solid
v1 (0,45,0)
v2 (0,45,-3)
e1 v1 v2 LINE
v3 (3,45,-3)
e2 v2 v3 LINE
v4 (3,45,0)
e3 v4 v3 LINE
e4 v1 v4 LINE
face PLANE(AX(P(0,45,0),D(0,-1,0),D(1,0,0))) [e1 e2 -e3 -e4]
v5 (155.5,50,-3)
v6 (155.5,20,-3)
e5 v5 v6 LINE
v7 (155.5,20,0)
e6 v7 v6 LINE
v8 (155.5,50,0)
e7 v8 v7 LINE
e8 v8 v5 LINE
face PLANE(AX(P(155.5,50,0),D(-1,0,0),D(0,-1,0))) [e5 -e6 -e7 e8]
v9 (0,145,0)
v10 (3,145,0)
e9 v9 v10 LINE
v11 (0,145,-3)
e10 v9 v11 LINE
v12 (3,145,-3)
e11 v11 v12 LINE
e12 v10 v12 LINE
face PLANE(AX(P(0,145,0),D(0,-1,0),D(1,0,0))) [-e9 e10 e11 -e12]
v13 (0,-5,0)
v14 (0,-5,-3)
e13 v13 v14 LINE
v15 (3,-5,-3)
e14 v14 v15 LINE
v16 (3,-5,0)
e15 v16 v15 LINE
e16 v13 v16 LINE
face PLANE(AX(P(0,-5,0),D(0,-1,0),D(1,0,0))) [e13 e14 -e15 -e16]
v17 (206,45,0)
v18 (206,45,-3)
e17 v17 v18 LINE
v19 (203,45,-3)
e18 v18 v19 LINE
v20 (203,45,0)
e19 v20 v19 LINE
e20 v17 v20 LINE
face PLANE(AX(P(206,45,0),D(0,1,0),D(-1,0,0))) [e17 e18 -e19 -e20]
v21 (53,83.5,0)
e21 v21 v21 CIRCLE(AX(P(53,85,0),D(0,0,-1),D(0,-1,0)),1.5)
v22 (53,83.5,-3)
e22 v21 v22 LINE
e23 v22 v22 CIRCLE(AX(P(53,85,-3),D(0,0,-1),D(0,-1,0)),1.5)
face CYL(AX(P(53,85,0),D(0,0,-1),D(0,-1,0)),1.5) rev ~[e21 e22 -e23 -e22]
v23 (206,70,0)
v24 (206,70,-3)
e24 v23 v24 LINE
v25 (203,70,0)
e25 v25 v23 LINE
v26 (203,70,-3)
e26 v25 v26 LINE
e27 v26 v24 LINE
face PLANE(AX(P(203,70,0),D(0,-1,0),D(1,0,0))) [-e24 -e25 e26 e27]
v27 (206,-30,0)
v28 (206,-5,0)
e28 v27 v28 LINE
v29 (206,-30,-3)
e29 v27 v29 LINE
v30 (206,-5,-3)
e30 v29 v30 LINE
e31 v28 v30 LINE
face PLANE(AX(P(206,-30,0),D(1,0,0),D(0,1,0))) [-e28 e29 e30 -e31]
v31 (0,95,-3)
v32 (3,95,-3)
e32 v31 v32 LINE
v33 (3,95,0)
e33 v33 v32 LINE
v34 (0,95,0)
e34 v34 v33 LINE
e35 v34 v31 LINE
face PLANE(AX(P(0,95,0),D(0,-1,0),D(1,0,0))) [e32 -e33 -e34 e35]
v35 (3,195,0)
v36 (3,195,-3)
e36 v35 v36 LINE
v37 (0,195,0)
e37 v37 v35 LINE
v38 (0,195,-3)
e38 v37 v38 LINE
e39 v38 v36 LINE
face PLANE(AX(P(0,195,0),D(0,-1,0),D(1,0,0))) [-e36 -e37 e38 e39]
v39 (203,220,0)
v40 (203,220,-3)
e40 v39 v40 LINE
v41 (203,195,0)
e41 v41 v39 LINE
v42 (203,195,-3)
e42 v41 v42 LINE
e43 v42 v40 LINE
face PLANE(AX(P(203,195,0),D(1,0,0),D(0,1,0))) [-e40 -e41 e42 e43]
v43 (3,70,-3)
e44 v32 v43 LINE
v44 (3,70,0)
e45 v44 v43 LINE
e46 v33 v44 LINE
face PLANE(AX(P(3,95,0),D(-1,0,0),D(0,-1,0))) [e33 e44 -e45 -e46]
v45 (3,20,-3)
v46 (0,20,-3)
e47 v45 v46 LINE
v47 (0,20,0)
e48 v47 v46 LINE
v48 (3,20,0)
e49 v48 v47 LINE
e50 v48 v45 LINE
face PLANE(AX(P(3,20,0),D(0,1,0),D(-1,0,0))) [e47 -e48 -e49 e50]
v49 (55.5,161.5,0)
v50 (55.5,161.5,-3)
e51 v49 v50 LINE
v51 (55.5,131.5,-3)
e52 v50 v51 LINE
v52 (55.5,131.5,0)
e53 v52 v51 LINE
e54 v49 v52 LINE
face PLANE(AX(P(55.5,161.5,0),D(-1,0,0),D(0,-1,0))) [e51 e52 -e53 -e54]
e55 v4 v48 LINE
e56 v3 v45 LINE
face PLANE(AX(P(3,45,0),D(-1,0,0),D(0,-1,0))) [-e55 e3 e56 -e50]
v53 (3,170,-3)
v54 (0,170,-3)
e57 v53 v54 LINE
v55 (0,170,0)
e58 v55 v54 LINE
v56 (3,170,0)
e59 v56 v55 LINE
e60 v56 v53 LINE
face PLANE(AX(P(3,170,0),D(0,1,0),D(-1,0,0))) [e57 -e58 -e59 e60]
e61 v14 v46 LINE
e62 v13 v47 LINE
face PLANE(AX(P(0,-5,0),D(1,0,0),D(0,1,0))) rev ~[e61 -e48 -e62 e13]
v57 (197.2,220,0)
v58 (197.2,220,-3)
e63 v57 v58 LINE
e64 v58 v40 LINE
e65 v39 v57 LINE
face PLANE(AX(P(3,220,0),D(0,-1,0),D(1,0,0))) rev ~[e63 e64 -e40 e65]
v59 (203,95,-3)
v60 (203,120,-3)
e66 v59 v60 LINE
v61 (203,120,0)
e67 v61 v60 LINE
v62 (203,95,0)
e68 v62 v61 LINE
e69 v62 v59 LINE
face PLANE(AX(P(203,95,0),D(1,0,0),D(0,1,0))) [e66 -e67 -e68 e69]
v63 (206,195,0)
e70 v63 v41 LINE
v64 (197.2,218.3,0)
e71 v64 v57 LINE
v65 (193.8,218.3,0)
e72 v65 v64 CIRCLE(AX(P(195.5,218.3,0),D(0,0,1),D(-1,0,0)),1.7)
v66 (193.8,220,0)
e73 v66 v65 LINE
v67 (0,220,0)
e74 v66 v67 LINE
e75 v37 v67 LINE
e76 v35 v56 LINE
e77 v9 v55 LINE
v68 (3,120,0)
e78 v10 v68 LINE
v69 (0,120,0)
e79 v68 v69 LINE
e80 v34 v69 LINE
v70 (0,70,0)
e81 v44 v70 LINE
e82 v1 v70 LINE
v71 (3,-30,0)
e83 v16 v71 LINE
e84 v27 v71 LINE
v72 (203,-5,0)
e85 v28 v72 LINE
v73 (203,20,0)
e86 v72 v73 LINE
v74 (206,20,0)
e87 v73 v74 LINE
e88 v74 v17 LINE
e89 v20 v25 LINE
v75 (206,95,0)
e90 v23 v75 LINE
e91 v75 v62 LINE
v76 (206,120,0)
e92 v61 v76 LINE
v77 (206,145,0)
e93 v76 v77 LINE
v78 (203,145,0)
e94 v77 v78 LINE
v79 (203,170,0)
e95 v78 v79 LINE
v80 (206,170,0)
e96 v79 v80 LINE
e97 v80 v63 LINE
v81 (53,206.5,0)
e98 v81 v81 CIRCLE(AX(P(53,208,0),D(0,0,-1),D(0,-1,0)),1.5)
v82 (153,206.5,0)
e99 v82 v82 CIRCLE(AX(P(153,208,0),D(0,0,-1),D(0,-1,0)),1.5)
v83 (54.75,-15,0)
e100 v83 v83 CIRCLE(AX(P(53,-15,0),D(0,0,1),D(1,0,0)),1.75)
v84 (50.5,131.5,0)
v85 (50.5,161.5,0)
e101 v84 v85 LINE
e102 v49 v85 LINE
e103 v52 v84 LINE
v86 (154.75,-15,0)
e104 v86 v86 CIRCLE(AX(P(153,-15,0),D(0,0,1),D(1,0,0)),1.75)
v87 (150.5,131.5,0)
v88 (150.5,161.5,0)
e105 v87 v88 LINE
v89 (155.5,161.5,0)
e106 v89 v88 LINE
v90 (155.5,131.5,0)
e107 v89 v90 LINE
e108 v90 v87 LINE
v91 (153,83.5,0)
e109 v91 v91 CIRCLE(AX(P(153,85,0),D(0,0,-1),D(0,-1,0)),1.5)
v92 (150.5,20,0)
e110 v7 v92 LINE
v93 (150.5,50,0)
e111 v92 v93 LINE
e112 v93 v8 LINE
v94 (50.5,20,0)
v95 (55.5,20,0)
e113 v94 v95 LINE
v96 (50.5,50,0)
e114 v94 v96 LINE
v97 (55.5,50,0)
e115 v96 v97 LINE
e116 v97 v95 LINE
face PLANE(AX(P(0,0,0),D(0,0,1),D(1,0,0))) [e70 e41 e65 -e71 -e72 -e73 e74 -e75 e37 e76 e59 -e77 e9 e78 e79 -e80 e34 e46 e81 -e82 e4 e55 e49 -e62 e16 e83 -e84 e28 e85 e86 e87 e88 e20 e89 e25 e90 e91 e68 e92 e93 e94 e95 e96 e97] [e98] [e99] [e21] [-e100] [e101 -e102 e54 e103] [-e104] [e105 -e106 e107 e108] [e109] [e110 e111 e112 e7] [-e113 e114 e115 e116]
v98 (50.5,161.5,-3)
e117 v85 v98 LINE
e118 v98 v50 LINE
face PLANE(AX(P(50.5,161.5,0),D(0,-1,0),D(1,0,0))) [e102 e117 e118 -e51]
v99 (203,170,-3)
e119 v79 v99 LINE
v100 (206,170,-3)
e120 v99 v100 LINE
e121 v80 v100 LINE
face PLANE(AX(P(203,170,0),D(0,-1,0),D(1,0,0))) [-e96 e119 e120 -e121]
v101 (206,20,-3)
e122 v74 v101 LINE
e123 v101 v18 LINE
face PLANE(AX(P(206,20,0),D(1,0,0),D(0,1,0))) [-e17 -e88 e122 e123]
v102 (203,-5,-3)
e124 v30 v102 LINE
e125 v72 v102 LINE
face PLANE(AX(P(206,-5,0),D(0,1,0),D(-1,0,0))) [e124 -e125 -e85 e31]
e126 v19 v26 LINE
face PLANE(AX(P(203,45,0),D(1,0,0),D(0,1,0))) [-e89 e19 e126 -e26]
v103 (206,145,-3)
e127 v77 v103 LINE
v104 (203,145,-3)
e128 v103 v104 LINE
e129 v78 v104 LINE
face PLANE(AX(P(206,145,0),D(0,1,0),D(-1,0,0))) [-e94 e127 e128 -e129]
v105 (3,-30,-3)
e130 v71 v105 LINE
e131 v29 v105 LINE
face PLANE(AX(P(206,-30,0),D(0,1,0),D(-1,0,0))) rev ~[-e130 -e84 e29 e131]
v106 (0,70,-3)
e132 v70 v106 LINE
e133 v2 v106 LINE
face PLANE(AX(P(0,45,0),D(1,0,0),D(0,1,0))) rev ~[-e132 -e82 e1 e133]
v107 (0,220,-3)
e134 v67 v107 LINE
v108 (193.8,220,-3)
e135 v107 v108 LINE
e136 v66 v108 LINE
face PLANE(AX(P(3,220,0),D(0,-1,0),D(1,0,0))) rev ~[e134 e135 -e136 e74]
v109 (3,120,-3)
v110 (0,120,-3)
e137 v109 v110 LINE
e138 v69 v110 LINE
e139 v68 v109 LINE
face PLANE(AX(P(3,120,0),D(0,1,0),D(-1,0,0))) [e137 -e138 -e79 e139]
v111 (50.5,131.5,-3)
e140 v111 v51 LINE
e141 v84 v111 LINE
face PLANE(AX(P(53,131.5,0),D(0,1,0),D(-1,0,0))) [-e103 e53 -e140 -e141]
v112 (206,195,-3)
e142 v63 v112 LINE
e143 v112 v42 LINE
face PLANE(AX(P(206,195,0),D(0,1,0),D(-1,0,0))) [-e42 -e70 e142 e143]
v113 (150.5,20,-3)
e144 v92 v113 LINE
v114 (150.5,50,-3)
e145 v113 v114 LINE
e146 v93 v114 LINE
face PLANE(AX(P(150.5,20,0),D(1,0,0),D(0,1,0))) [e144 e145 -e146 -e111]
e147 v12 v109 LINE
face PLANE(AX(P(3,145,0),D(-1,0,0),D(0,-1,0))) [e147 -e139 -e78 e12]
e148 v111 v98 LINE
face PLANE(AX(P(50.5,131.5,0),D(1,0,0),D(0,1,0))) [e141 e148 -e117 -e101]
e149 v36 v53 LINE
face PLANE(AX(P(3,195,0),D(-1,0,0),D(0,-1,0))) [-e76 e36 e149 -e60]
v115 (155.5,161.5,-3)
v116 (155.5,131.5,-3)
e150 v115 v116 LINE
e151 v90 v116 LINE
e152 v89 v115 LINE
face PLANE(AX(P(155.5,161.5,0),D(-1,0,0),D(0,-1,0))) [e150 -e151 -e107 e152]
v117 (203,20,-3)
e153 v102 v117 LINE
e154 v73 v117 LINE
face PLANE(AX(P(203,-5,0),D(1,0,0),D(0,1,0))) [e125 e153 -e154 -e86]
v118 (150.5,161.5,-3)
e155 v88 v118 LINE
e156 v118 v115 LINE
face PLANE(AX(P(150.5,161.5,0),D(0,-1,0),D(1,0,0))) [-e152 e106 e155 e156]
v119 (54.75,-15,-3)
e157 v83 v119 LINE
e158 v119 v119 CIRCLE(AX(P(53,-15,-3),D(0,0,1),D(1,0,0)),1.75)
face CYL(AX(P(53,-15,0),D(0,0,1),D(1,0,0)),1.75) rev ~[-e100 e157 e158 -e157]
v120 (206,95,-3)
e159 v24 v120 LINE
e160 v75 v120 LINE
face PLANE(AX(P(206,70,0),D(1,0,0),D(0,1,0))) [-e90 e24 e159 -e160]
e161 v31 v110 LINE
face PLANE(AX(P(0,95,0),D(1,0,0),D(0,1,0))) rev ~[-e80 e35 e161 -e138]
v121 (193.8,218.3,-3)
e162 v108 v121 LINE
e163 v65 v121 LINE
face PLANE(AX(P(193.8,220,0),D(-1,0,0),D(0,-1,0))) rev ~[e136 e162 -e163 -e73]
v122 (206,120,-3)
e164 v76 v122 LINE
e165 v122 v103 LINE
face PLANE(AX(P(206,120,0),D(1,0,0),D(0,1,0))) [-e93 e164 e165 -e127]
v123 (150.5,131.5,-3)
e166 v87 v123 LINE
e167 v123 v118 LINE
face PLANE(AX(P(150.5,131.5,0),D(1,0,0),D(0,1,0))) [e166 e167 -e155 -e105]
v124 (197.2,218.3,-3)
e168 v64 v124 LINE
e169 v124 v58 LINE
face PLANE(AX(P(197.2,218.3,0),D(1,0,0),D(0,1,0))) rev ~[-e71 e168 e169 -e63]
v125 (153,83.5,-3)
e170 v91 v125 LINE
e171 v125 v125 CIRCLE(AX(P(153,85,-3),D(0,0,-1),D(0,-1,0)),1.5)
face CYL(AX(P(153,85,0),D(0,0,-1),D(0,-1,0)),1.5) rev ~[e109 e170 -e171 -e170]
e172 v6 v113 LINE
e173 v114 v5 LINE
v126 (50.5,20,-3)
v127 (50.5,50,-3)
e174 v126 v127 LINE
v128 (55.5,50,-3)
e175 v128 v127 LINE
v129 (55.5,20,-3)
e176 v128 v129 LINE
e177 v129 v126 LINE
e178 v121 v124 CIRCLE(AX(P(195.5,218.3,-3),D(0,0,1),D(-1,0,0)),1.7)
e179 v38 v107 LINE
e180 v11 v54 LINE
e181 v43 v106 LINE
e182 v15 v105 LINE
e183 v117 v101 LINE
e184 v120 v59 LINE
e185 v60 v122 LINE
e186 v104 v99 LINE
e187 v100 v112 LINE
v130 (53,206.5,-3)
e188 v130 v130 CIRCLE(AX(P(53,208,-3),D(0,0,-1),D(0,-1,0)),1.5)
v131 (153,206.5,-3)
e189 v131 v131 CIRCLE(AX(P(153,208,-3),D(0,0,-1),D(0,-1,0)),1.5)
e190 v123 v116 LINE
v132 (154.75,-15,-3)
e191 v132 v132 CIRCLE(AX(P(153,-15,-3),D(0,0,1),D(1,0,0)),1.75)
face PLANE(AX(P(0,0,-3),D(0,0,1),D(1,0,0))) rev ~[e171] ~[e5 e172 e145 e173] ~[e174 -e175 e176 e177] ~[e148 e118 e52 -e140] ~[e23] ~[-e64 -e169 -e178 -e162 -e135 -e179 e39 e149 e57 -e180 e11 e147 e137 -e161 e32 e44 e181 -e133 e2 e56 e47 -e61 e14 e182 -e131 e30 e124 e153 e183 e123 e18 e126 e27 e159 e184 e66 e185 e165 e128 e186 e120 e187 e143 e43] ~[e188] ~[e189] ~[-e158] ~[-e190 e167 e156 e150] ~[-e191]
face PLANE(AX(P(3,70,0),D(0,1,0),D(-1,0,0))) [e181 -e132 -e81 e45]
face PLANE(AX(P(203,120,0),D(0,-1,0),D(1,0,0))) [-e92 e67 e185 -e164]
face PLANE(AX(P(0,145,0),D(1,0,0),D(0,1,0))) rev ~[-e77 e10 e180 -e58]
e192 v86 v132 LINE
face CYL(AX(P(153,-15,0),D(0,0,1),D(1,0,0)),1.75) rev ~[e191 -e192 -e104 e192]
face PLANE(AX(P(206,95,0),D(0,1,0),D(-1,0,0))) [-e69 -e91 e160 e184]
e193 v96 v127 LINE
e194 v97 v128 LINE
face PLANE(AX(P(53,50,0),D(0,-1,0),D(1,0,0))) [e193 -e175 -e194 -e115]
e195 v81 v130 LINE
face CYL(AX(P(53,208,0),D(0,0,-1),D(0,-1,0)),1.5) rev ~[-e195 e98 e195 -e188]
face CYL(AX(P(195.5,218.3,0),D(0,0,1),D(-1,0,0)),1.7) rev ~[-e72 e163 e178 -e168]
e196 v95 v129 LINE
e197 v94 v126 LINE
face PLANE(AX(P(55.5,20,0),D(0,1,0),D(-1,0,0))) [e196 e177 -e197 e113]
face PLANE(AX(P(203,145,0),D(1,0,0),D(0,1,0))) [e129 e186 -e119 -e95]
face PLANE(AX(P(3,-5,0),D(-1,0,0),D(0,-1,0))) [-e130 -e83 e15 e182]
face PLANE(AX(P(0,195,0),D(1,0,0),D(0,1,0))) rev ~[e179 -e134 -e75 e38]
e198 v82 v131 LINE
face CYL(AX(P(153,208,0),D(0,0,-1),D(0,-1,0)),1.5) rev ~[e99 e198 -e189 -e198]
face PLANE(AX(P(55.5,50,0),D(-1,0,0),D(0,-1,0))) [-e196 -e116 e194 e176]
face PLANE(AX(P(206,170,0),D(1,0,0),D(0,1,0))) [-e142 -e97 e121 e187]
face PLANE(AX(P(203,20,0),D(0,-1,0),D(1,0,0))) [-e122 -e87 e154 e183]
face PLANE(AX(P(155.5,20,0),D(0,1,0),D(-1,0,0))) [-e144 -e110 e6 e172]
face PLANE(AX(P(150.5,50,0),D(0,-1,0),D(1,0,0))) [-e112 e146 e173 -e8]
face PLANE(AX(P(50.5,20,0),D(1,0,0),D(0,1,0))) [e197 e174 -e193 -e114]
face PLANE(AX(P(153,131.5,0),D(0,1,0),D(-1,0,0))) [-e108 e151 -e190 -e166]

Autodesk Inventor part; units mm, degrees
ref_plane "YZ Plane" through (0, 0, 0) normal (1, 0, 0) x (0, 1, 0)
ref_plane "XZ Plane" through (0, 0, 0) normal (0, 1, 0) x (-1, 0, 0)
ref_plane "XY Plane" through (0, 0, 0) normal (0, 0, 1) x (1, 0, 0)
sketch "Boceto1" plane through (0, 0, 0) normal (0, 0, 1) x (1, 0, 0)
  line L0 (206, -30) -> (206, 220) projected
  line L1 (0, 220) -> (206, 220) projected
  line L2 (0, -30) -> (0, 220) projected
  line L3 (206, -30) -> (0, -30) projected
  line L4 (206, -30) -> (206, -5)
  line L5 (206, -5) -> (203, -5)
  line L6 (203, -5) -> (203, 20)
  line L7 (203, 20) -> (206, 20)
  line L8 (206, 20) -> (206, 45)
  line L9 (206, 45) -> (203, 45)
  line L10 (203, 45) -> (203, 70)
  line L11 (203, 70) -> (206, 70)
  line L12 (206, 70) -> (206, 95)
  line L13 (206, 95) -> (203, 95)
  line L14 (203, 95) -> (203, 120)
  line L15 (203, 120) -> (206, 120)
  line L16 (206, 120) -> (206, 145)
  line L17 (206, 145) -> (203, 145)
  line L18 (203, 145) -> (203, 170)
  line L19 (203, 170) -> (206, 170)
  line L20 (203, 220) -> (206, 220)
  line L21 (206, 195) -> (203, 195)
  line L22 (203, 195) -> (203, 220)
  line L23 (206, 170) -> (206, 195)
  line L24 (203, 170) -> (206, 170)
  line L25 (0, 220) -> (0, 195)
  line L26 (0, 195) -> (3, 195)
  line L27 (3, 195) -> (3, 170)
  line L28 (3, 170) -> (0, 170)
  line L29 (0, 170) -> (0, 145)
  line L30 (0, 145) -> (3, 145)
  line L31 (3, 145) -> (3, 120)
  line L32 (3, 120) -> (0, 120)
  line L33 (3, 20) -> (0, 20)
  line L34 (0, 45) -> (3, 45)
  line L35 (3, 45) -> (3, 20)
  line L36 (0, 70) -> (0, 45)
  line L37 (3, 70) -> (0, 70)
  line L38 (3, 95) -> (3, 70)
  line L39 (0, 95) -> (3, 95)
  line L40 (0, 120) -> (0, 95)
  line L41 (3, 20) -> (0, 20)
  line L42 (0, 20) -> (0, -5)
  line L43 (0, -5) -> (3, -5)
  line L44 (3, -5) -> (3, -30)
  line L45 (3, -30) -> (0, -30)
  line L46 (203, 220) -> (206, 220)
  line L47 (203, 220) -> (206, 220)
  line L48 (206, 220) -> (206, 245)
  line L49 (206, 245) -> (203, 245)
  line L50 (203, 245) -> (203, 270)
  line L51 (203, 270) -> (206, 270)
  line L52 (0, 220) -> (3, 220)
  line L53 (0, 220) -> (3, 220)
  line L54 (3, 220) -> (3, 245)
  line L55 (3, 245) -> (0, 245)
  line L56 (0, 245) -> (0, 270)
  line L57 (0, 270) -> (3, 270)
  line L58 (206, 270) -> (0, 270)
  point P0 (0, 0)
  dimension "d78" = 3
  dimension "d88" = 3
  dimension "Lengueta" = 25
  dimension "espesor" = 3
  dimension "d2" = 25
  dimension "d3" = 3
  dimension "d4" = 25
  dimension "d5" = 90
  dimension "d6" = 3
  dimension "d7" = 25
  dimension "d8" = 3
  dimension "d9" = 25
  dimension "d10" = 3
  dimension "d11" = 25
  dimension "d12" = 3
  dimension "d13" = 25
  dimension "d14" = 90
  dimension "d15" = 3
  dimension "d16" = 25
  dimension "d17" = 3
  dimension "d18" = 3
  dimension "d19" = 25
  dimension "d20" = 90
  dimension "d21" = 3
  dimension "d22" = 25
  dimension "d23" = 3
  dimension "d26" = 25
  dimension "d27" = 3
  dimension "d28" = 25
  dimension "d29" = 3
  dimension "d30" = 25
  dimension "d31" = 90
  dimension "d32" = 3
  dimension "d33" = 25
  dimension "d34" = 3
  dimension "d35" = 25
  dimension "d36" = 3
  dimension "d37" = 25
  dimension "d38" = 3
  dimension "d39" = 25
  dimension "d40" = 90
  dimension "d41" = 3
  dimension "d42" = 25
  dimension "d43" = 3
  dimension "d44" = 3
  dimension "d45" = 25
  dimension "d46" = 90
  dimension "d47" = 3
  dimension "d48" = 25
  dimension "d49" = 3
  dimension "d71" = 3
  dimension "d72" = 3
  dimension "d73" = 25
  dimension "d74" = 90
  dimension "d75" = 3
  dimension "d76" = 25
  dimension "d77" = 3
  dimension "d81" = 3
  dimension "d82" = 3
  dimension "d83" = 25
  dimension "d84" = 90
  dimension "d85" = 3
  dimension "d86" = 25
  dimension "d87" = 3
extrude "Extrusión1" add sketch "Boceto1" against normal blind 3 contours L3 L44 L43 L2 L33 L35 L34 L37 L38 L39 L32 L31 L30 L28 L27 L26 L1 L22 L21 L0 L19 L18 L17 L15 L14 L13 L11 L10 L9 L7 L6 L5
sketch "Boceto2" plane through (0, 0, 0) normal (0, 0, 1) x (1, 0, 0)
  circle A0 centre (53, -15) radius 1.75
  circle A1 centre (153, -15) radius 1.75
  point P0 (0, 0)
extrude "Extrusión2" cut sketch "Boceto2" against normal blind 3
sketch "Boceto3" plane through (0, 0, 0) normal (0, 0, 1) x (1, 0, 0)
  circle A0 centre (53, 208) radius 2.1
  circle A1 centre (53, 208) radius 1.5
  circle A2 centre (153, 208) radius 2.1
  point P0 (0, 0)
  dimension "d56" = 3
hole "Agujero1" at (53, 208, 0) at (153, 208, 0) direction (0, 0, -1) diameter 3 depth 4
sketch "Boceto4" plane through (0, 0, 0) normal (0, 0, 1) x (1, 0, 0)
  circle A0 centre (53, 85) radius 2.1 projected
  circle A1 centre (153, 85) radius 2.1 projected
  point P0 (0, 0)
hole "Agujero2" at (153, 85, 0) at (53, 85, 0) direction (0, 0, -1) diameter 3 depth 4
sketch "Boceto5" plane through (0, 0, -3) normal (0, 0, -1) x (-1, 0, 0)
  point P0 (0, 0)
sketch "Boceto6" plane through (0, 0, 0) normal (0, 0, 1) x (1, 0, 0)
  circle A0 centre (53, 85) radius 1.5 projected
  circle A1 centre (153, 85) radius 1.5 projected
  circle A2 centre (153, 208) radius 1.5 projected
  circle A3 centre (53, 208) radius 1.5 projected
  circle A4 centre (53, -15) radius 1.75 projected
  circle A5 centre (153, -15) radius 1.75 projected
  line L0 (203, 20) -> (206, 20) projected
  line L1 (206, 20) -> (206, 45) projected
  line L2 (206, 45) -> (203, 45) projected
  line L3 (203, 45) -> (203, 70) projected
  line L4 (203, 70) -> (206, 70) projected
  line L5 (206, 70) -> (206, 95) projected
  line L6 (206, 95) -> (203, 95) projected
  line L7 (203, 95) -> (203, 120) projected
  line L8 (203, 120) -> (206, 120) projected
  line L9 (206, 120) -> (206, 145) projected
  line L10 (206, 145) -> (203, 145) projected
  line L11 (203, 145) -> (203, 170) projected
  line L12 (203, 170) -> (206, 170) projected
  line L13 (206, 170) -> (206, 195) projected
  line L14 (206, 195) -> (203, 195) projected
  line L15 (203, 195) -> (203, 220) projected
  line L16 (203, 220) -> (0, 220) projected
  line L17 (0, 220) -> (0, 195) projected
  line L18 (0, 195) -> (3, 195) projected
  line L19 (3, 195) -> (3, 170) projected
  line L20 (3, 170) -> (0, 170) projected
  line L21 (0, 170) -> (0, 145) projected
  line L22 (0, 145) -> (3, 145) projected
  line L23 (3, 145) -> (3, 120) projected
  line L24 (3, 120) -> (0, 120) projected
  line L25 (0, 120) -> (0, 95) projected
  line L26 (0, 95) -> (3, 95) projected
  line L27 (3, 95) -> (3, 70) projected
  line L28 (3, 70) -> (0, 70) projected
  line L29 (0, 70) -> (0, 45) projected
  line L30 (0, 45) -> (3, 45) projected
  line L31 (3, 45) -> (3, 20) projected
  line L32 (3, 20) -> (0, 20) projected
  line L33 (0, 20) -> (0, -5) projected
  line L34 (0, -5) -> (3, -5) projected
  line L35 (3, -5) -> (3, -30) projected
  line L36 (3, -30) -> (206, -30) projected
  line L37 (206, -30) -> (206, -5) projected
  line L38 (206, -5) -> (203, -5) projected
  line L39 (203, -5) -> (203, 20) projected
  line L40 (153, 85) -> (153, 208)
  line L41 (150.5, 161.5) -> (155.5, 161.5)
  line L42 (155.5, 161.5) -> (155.5, 131.5)
  line L43 (155.5, 131.5) -> (150.5, 131.5)
  line L44 (150.5, 131.5) -> (150.5, 161.5)
  line L45 (150.5, 161.5) -> (155.5, 131.5) construction
  line L46 (155.5, 161.5) -> (150.5, 131.5) construction
  line L47 (53, 85) -> (53, 208)
  line L48 (50.5, 161.5) -> (55.5, 161.5)
  line L49 (55.5, 161.5) -> (55.5, 131.5)
  line L50 (55.5, 131.5) -> (50.5, 131.5)
  line L51 (50.5, 131.5) -> (50.5, 161.5)
  line L52 (50.5, 161.5) -> (55.5, 131.5) construction
  line L53 (55.5, 161.5) -> (50.5, 131.5) construction
  line L54 (53, -15) -> (53, 85)
  line L55 (50.5, 50) -> (55.5, 50)
  line L56 (55.5, 50) -> (55.5, 20)
  line L57 (55.5, 20) -> (50.5, 20)
  line L58 (50.5, 20) -> (50.5, 50)
  line L59 (50.5, 50) -> (55.5, 20) construction
  line L60 (55.5, 50) -> (50.5, 20) construction
  line L61 (150.5, 50) -> (155.5, 50)
  line L62 (155.5, 50) -> (155.5, 20)
  line L63 (155.5, 20) -> (150.5, 20)
  line L64 (150.5, 20) -> (150.5, 50)
  line L65 (150.5, 50) -> (155.5, 20) construction
  line L66 (155.5, 50) -> (150.5, 20) construction
  point P0 (0, 0)
  point P1 (153, 146.5)
  point P2 (53, 146.5)
  point P3 (53, 35)
  point P4 (153, 35)
  dimension "d93" = 5
  dimension "d94" = 30
  dimension "d95" = 5
  dimension "d96" = 30
  dimension "d99" = 5
  dimension "d100" = 30
  dimension "d101" = 5
  dimension "d102" = 30
extrude "Extrusión3" cut sketch "Boceto6" against normal blind 3 contours L55 L56 L57 L54 | L54 L57 L58 L55 | L50 L51 L48 L47 | L47 L48 L49 L50 | L43 L44 L41 L40 | L40 L41 L42 L43 | L61 L62 L63 L64
sketch "Boceto7" plane through (0, 0, 0) normal (0, 0, 1) x (1, 0, 0)
  line L0 (197.2, 218.3) -> (197.2, 220) projected
  line L1 (197.2, 220) -> (206, 220) projected
  line L2 (206, 220) -> (206, 195) projected
  line L3 (206, 195) -> (203, 195) projected
  line L4 (203, 195) -> (203, 170) projected
  line L5 (203, 170) -> (206, 170) projected
  line L6 (206, 170) -> (206, 145) projected
  line L7 (206, 145) -> (203, 145) projected
  line L8 (203, 145) -> (203, 120) projected
  line L9 (203, 120) -> (206, 120) projected
  line L10 (206, 120) -> (206, 95) projected
  line L11 (206, 95) -> (203, 95) projected
  line L12 (203, 95) -> (203, 70) projected
  line L13 (203, 70) -> (206, 70) projected
  line L14 (206, 70) -> (206, 45) projected
  line L15 (206, 45) -> (203, 45) projected
  line L16 (203, 45) -> (203, 20) projected
  line L17 (203, 20) -> (206, 20) projected
  line L18 (206, 20) -> (206, -5) projected
  line L19 (206, -5) -> (203, -5) projected
  line L20 (203, -5) -> (203, -30) projected
  line L21 (203, -30) -> (0, -30) projected
  line L22 (0, -30) -> (0, -5) projected
  line L23 (0, -5) -> (3, -5) projected
  line L24 (3, -5) -> (3, 20) projected
  line L25 (3, 20) -> (0, 20) projected
  line L26 (0, 20) -> (0, 45) projected
  line L27 (0, 45) -> (3, 45) projected
  line L28 (3, 45) -> (3, 70) projected
  line L29 (3, 70) -> (0, 70) projected
  line L30 (0, 70) -> (0, 95) projected
  line L31 (0, 95) -> (3, 95) projected
  line L32 (3, 95) -> (3, 120) projected
  line L33 (3, 120) -> (0, 120) projected
  line L34 (0, 120) -> (0, 145) projected
  line L35 (0, 145) -> (3, 145) projected
  line L36 (3, 145) -> (3, 170) projected
  line L37 (3, 170) -> (0, 170) projected
  line L38 (0, 170) -> (0, 195) projected
  line L39 (0, 195) -> (3, 195) projected
  line L40 (3, 195) -> (3, 220) projected
  line L41 (3, 220) -> (193.8, 220) projected
  line L42 (193.8, 220) -> (193.8, 218.3) projected
  arc A0 (193.8, 218.3) -> (197.2, 218.3) centre (195.5, 218.3) ccw projected
  line L43 (50.5, 20) -> (55.5, 20) projected
  line L44 (55.5, 20) -> (55.5, 50) projected
  line L45 (55.5, 50) -> (50.5, 50) projected
  line L46 (50.5, 50) -> (50.5, 20) projected
  line L47 (50.5, 161.5) -> (50.5, 131.5) projected
  line L48 (50.5, 131.5) -> (55.5, 131.5) projected
  line L49 (55.5, 131.5) -> (55.5, 161.5) projected
  line L50 (55.5, 161.5) -> (50.5, 161.5) projected
  line L51 (150.5, 50) -> (150.5, 20) projected
  line L52 (150.5, 20) -> (155.5, 20) projected
  line L53 (155.5, 20) -> (155.5, 50) projected
  line L54 (155.5, 50) -> (150.5, 50) projected
  line L55 (150.5, 161.5) -> (150.5, 131.5) projected
  line L56 (150.5, 131.5) -> (155.5, 131.5) projected
  line L57 (155.5, 131.5) -> (155.5, 161.5) projected
  line L58 (155.5, 161.5) -> (150.5, 161.5) projected
  circle A1 centre (153, 85) radius 1.5 projected
  circle A2 centre (53, 85) radius 1.5 projected
  circle A3 centre (53, 208) radius 1.5 projected
  circle A4 centre (153, 208) radius 1.5 projected
  circle A5 centre (153, -15) radius 1.75 projected
  circle A6 centre (53, -15) radius 1.75 projected
  line L59 (155.5, 20) -> (150.5, 20) projected
  line L60 (150.5, 20) -> (150.5, 50) projected
  line L61 (150.5, 50) -> (155.5, 50) projected
  line L62 (155.5, 50) -> (155.5, 20) projected
  line L63 (155.5, 161.5) -> (155.5, 131.5) projected
  line L64 (155.5, 131.5) -> (150.5, 131.5) projected
  line L65 (150.5, 131.5) -> (150.5, 161.5) projected
  line L66 (150.5, 161.5) -> (155.5, 161.5) projected
  line L67 (55.5, 50) -> (55.5, 20) projected
  line L68 (55.5, 20) -> (50.5, 20) projected
  line L69 (50.5, 20) -> (50.5, 50) projected
  line L70 (50.5, 50) -> (55.5, 50) projected
  line L71 (55.5, 161.5) -> (55.5, 131.5) projected
  line L72 (55.5, 131.5) -> (50.5, 131.5) projected
  line L73 (50.5, 131.5) -> (50.5, 161.5) projected
  line L74 (50.5, 161.5) -> (55.5, 161.5) projected
  circle A7 centre (53, 85) radius 1.5 projected
  circle A8 centre (153, 85) radius 1.5 projected
  circle A9 centre (153, 208) radius 1.5 projected
  circle A10 centre (53, 208) radius 1.5 projected
  circle A11 centre (53, -15) radius 1.75 projected
  circle A12 centre (153, -15) radius 1.75 projected
  line L75 (203, 20) -> (206, 20) projected
  line L76 (206, 20) -> (206, 45) projected
  line L77 (206, 45) -> (203, 45) projected
  line L78 (203, 45) -> (203, 70) projected
  line L79 (203, 70) -> (206, 70) projected
  line L80 (206, 70) -> (206, 95) projected
  line L81 (206, 95) -> (203, 95) projected
  line L82 (203, 95) -> (203, 120) projected
  line L83 (203, 120) -> (206, 120) projected
  line L84 (206, 120) -> (206, 145) projected
  line L85 (206, 145) -> (203, 145) projected
  line L86 (203, 145) -> (203, 170) projected
  line L87 (203, 170) -> (206, 170) projected
  line L88 (206, 170) -> (206, 195) projected
  line L89 (206, 195) -> (203, 195) projected
  line L90 (203, 195) -> (203, 220) projected
  line L91 (203, 220) -> (0, 220) projected
  line L92 (0, 220) -> (0, 195) projected
  line L93 (0, 195) -> (3, 195) projected
  line L94 (3, 195) -> (3, 170) projected
  line L95 (3, 170) -> (0, 170) projected
  line L96 (0, 170) -> (0, 145) projected
  line L97 (0, 145) -> (3, 145) projected
  line L98 (3, 145) -> (3, 120) projected
  line L99 (3, 120) -> (0, 120) projected
  line L100 (0, 120) -> (0, 95) projected
  line L101 (0, 95) -> (3, 95) projected
  line L102 (3, 95) -> (3, 70) projected
  line L103 (3, 70) -> (0, 70) projected
  line L104 (0, 70) -> (0, 45) projected
  line L105 (0, 45) -> (3, 45) projected
  line L106 (3, 45) -> (3, 20) projected
  line L107 (3, 20) -> (0, 20) projected
  line L108 (0, 20) -> (0, -5) projected
  line L109 (0, -5) -> (3, -5) projected
  line L110 (3, -5) -> (3, -30) projected
  line L111 (3, -30) -> (206, -30) projected
  line L112 (206, -30) -> (206, -5) projected
  line L113 (206, -5) -> (203, -5) projected
  line L114 (203, -5) -> (203, 20) projected
  point P0 (0, 0)
extrude "Extrusión4" cut sketch "Boceto7" against normal blind 10 contours A0 L42 L91 L0
equation "\"d2\" = Lengueta"
equation "\"d3\" = espesor"
equation "\"d4\" = Lengueta"
equation "\"d6\" = espesor"
equation "\"d7\" = Lengueta"
equation "\"d8\" = espesor"
equation "\"d11\" = d9"
equation "\"d12\" = d10"
equation "\"d13\" = d9"
equation "\"d16\" = d9"
equation "\"d18\" = d24"
equation "\"d19\" = d25"
equation "\"d22\" = d25"
equation "\"d28\" = d26"
equation "\"d29\" = d27"
equation "\"d30\" = d26"
equation "\"d33\" = d26"
equation "\"d37\" = d35"
equation "\"d38\" = d36"
equation "\"d39\" = d35"
equation "\"d42\" = d35"
equation "\"d44\" = d50"
equation "\"d45\" = d51"
equation "\"d48\" = d51"
equation "\"d71\" = d78"
equation "\"d72\" = d79"
equation "\"d73\" = d80"
equation "\"d76\" = d80"
equation "\"d81\" = d88"
equation "\"d82\" = d89"
equation "\"d83\" = d90"
equation "\"d86\" = d90"
equation "\"d52\" = espesor"
equation "\"d54\" = espesor"
equation "\"d24\" = 3"
equation "\"d25\" = 25"
equation "\"d50\" = 3"
equation "\"d51\" = 25"
equation "\"d79\" = 3"
equation "\"d80\" = 25"
equation "\"d89\" = 3"
equation "\"d90\" = 25"
properties part number "Envolvente_Pared_1"
